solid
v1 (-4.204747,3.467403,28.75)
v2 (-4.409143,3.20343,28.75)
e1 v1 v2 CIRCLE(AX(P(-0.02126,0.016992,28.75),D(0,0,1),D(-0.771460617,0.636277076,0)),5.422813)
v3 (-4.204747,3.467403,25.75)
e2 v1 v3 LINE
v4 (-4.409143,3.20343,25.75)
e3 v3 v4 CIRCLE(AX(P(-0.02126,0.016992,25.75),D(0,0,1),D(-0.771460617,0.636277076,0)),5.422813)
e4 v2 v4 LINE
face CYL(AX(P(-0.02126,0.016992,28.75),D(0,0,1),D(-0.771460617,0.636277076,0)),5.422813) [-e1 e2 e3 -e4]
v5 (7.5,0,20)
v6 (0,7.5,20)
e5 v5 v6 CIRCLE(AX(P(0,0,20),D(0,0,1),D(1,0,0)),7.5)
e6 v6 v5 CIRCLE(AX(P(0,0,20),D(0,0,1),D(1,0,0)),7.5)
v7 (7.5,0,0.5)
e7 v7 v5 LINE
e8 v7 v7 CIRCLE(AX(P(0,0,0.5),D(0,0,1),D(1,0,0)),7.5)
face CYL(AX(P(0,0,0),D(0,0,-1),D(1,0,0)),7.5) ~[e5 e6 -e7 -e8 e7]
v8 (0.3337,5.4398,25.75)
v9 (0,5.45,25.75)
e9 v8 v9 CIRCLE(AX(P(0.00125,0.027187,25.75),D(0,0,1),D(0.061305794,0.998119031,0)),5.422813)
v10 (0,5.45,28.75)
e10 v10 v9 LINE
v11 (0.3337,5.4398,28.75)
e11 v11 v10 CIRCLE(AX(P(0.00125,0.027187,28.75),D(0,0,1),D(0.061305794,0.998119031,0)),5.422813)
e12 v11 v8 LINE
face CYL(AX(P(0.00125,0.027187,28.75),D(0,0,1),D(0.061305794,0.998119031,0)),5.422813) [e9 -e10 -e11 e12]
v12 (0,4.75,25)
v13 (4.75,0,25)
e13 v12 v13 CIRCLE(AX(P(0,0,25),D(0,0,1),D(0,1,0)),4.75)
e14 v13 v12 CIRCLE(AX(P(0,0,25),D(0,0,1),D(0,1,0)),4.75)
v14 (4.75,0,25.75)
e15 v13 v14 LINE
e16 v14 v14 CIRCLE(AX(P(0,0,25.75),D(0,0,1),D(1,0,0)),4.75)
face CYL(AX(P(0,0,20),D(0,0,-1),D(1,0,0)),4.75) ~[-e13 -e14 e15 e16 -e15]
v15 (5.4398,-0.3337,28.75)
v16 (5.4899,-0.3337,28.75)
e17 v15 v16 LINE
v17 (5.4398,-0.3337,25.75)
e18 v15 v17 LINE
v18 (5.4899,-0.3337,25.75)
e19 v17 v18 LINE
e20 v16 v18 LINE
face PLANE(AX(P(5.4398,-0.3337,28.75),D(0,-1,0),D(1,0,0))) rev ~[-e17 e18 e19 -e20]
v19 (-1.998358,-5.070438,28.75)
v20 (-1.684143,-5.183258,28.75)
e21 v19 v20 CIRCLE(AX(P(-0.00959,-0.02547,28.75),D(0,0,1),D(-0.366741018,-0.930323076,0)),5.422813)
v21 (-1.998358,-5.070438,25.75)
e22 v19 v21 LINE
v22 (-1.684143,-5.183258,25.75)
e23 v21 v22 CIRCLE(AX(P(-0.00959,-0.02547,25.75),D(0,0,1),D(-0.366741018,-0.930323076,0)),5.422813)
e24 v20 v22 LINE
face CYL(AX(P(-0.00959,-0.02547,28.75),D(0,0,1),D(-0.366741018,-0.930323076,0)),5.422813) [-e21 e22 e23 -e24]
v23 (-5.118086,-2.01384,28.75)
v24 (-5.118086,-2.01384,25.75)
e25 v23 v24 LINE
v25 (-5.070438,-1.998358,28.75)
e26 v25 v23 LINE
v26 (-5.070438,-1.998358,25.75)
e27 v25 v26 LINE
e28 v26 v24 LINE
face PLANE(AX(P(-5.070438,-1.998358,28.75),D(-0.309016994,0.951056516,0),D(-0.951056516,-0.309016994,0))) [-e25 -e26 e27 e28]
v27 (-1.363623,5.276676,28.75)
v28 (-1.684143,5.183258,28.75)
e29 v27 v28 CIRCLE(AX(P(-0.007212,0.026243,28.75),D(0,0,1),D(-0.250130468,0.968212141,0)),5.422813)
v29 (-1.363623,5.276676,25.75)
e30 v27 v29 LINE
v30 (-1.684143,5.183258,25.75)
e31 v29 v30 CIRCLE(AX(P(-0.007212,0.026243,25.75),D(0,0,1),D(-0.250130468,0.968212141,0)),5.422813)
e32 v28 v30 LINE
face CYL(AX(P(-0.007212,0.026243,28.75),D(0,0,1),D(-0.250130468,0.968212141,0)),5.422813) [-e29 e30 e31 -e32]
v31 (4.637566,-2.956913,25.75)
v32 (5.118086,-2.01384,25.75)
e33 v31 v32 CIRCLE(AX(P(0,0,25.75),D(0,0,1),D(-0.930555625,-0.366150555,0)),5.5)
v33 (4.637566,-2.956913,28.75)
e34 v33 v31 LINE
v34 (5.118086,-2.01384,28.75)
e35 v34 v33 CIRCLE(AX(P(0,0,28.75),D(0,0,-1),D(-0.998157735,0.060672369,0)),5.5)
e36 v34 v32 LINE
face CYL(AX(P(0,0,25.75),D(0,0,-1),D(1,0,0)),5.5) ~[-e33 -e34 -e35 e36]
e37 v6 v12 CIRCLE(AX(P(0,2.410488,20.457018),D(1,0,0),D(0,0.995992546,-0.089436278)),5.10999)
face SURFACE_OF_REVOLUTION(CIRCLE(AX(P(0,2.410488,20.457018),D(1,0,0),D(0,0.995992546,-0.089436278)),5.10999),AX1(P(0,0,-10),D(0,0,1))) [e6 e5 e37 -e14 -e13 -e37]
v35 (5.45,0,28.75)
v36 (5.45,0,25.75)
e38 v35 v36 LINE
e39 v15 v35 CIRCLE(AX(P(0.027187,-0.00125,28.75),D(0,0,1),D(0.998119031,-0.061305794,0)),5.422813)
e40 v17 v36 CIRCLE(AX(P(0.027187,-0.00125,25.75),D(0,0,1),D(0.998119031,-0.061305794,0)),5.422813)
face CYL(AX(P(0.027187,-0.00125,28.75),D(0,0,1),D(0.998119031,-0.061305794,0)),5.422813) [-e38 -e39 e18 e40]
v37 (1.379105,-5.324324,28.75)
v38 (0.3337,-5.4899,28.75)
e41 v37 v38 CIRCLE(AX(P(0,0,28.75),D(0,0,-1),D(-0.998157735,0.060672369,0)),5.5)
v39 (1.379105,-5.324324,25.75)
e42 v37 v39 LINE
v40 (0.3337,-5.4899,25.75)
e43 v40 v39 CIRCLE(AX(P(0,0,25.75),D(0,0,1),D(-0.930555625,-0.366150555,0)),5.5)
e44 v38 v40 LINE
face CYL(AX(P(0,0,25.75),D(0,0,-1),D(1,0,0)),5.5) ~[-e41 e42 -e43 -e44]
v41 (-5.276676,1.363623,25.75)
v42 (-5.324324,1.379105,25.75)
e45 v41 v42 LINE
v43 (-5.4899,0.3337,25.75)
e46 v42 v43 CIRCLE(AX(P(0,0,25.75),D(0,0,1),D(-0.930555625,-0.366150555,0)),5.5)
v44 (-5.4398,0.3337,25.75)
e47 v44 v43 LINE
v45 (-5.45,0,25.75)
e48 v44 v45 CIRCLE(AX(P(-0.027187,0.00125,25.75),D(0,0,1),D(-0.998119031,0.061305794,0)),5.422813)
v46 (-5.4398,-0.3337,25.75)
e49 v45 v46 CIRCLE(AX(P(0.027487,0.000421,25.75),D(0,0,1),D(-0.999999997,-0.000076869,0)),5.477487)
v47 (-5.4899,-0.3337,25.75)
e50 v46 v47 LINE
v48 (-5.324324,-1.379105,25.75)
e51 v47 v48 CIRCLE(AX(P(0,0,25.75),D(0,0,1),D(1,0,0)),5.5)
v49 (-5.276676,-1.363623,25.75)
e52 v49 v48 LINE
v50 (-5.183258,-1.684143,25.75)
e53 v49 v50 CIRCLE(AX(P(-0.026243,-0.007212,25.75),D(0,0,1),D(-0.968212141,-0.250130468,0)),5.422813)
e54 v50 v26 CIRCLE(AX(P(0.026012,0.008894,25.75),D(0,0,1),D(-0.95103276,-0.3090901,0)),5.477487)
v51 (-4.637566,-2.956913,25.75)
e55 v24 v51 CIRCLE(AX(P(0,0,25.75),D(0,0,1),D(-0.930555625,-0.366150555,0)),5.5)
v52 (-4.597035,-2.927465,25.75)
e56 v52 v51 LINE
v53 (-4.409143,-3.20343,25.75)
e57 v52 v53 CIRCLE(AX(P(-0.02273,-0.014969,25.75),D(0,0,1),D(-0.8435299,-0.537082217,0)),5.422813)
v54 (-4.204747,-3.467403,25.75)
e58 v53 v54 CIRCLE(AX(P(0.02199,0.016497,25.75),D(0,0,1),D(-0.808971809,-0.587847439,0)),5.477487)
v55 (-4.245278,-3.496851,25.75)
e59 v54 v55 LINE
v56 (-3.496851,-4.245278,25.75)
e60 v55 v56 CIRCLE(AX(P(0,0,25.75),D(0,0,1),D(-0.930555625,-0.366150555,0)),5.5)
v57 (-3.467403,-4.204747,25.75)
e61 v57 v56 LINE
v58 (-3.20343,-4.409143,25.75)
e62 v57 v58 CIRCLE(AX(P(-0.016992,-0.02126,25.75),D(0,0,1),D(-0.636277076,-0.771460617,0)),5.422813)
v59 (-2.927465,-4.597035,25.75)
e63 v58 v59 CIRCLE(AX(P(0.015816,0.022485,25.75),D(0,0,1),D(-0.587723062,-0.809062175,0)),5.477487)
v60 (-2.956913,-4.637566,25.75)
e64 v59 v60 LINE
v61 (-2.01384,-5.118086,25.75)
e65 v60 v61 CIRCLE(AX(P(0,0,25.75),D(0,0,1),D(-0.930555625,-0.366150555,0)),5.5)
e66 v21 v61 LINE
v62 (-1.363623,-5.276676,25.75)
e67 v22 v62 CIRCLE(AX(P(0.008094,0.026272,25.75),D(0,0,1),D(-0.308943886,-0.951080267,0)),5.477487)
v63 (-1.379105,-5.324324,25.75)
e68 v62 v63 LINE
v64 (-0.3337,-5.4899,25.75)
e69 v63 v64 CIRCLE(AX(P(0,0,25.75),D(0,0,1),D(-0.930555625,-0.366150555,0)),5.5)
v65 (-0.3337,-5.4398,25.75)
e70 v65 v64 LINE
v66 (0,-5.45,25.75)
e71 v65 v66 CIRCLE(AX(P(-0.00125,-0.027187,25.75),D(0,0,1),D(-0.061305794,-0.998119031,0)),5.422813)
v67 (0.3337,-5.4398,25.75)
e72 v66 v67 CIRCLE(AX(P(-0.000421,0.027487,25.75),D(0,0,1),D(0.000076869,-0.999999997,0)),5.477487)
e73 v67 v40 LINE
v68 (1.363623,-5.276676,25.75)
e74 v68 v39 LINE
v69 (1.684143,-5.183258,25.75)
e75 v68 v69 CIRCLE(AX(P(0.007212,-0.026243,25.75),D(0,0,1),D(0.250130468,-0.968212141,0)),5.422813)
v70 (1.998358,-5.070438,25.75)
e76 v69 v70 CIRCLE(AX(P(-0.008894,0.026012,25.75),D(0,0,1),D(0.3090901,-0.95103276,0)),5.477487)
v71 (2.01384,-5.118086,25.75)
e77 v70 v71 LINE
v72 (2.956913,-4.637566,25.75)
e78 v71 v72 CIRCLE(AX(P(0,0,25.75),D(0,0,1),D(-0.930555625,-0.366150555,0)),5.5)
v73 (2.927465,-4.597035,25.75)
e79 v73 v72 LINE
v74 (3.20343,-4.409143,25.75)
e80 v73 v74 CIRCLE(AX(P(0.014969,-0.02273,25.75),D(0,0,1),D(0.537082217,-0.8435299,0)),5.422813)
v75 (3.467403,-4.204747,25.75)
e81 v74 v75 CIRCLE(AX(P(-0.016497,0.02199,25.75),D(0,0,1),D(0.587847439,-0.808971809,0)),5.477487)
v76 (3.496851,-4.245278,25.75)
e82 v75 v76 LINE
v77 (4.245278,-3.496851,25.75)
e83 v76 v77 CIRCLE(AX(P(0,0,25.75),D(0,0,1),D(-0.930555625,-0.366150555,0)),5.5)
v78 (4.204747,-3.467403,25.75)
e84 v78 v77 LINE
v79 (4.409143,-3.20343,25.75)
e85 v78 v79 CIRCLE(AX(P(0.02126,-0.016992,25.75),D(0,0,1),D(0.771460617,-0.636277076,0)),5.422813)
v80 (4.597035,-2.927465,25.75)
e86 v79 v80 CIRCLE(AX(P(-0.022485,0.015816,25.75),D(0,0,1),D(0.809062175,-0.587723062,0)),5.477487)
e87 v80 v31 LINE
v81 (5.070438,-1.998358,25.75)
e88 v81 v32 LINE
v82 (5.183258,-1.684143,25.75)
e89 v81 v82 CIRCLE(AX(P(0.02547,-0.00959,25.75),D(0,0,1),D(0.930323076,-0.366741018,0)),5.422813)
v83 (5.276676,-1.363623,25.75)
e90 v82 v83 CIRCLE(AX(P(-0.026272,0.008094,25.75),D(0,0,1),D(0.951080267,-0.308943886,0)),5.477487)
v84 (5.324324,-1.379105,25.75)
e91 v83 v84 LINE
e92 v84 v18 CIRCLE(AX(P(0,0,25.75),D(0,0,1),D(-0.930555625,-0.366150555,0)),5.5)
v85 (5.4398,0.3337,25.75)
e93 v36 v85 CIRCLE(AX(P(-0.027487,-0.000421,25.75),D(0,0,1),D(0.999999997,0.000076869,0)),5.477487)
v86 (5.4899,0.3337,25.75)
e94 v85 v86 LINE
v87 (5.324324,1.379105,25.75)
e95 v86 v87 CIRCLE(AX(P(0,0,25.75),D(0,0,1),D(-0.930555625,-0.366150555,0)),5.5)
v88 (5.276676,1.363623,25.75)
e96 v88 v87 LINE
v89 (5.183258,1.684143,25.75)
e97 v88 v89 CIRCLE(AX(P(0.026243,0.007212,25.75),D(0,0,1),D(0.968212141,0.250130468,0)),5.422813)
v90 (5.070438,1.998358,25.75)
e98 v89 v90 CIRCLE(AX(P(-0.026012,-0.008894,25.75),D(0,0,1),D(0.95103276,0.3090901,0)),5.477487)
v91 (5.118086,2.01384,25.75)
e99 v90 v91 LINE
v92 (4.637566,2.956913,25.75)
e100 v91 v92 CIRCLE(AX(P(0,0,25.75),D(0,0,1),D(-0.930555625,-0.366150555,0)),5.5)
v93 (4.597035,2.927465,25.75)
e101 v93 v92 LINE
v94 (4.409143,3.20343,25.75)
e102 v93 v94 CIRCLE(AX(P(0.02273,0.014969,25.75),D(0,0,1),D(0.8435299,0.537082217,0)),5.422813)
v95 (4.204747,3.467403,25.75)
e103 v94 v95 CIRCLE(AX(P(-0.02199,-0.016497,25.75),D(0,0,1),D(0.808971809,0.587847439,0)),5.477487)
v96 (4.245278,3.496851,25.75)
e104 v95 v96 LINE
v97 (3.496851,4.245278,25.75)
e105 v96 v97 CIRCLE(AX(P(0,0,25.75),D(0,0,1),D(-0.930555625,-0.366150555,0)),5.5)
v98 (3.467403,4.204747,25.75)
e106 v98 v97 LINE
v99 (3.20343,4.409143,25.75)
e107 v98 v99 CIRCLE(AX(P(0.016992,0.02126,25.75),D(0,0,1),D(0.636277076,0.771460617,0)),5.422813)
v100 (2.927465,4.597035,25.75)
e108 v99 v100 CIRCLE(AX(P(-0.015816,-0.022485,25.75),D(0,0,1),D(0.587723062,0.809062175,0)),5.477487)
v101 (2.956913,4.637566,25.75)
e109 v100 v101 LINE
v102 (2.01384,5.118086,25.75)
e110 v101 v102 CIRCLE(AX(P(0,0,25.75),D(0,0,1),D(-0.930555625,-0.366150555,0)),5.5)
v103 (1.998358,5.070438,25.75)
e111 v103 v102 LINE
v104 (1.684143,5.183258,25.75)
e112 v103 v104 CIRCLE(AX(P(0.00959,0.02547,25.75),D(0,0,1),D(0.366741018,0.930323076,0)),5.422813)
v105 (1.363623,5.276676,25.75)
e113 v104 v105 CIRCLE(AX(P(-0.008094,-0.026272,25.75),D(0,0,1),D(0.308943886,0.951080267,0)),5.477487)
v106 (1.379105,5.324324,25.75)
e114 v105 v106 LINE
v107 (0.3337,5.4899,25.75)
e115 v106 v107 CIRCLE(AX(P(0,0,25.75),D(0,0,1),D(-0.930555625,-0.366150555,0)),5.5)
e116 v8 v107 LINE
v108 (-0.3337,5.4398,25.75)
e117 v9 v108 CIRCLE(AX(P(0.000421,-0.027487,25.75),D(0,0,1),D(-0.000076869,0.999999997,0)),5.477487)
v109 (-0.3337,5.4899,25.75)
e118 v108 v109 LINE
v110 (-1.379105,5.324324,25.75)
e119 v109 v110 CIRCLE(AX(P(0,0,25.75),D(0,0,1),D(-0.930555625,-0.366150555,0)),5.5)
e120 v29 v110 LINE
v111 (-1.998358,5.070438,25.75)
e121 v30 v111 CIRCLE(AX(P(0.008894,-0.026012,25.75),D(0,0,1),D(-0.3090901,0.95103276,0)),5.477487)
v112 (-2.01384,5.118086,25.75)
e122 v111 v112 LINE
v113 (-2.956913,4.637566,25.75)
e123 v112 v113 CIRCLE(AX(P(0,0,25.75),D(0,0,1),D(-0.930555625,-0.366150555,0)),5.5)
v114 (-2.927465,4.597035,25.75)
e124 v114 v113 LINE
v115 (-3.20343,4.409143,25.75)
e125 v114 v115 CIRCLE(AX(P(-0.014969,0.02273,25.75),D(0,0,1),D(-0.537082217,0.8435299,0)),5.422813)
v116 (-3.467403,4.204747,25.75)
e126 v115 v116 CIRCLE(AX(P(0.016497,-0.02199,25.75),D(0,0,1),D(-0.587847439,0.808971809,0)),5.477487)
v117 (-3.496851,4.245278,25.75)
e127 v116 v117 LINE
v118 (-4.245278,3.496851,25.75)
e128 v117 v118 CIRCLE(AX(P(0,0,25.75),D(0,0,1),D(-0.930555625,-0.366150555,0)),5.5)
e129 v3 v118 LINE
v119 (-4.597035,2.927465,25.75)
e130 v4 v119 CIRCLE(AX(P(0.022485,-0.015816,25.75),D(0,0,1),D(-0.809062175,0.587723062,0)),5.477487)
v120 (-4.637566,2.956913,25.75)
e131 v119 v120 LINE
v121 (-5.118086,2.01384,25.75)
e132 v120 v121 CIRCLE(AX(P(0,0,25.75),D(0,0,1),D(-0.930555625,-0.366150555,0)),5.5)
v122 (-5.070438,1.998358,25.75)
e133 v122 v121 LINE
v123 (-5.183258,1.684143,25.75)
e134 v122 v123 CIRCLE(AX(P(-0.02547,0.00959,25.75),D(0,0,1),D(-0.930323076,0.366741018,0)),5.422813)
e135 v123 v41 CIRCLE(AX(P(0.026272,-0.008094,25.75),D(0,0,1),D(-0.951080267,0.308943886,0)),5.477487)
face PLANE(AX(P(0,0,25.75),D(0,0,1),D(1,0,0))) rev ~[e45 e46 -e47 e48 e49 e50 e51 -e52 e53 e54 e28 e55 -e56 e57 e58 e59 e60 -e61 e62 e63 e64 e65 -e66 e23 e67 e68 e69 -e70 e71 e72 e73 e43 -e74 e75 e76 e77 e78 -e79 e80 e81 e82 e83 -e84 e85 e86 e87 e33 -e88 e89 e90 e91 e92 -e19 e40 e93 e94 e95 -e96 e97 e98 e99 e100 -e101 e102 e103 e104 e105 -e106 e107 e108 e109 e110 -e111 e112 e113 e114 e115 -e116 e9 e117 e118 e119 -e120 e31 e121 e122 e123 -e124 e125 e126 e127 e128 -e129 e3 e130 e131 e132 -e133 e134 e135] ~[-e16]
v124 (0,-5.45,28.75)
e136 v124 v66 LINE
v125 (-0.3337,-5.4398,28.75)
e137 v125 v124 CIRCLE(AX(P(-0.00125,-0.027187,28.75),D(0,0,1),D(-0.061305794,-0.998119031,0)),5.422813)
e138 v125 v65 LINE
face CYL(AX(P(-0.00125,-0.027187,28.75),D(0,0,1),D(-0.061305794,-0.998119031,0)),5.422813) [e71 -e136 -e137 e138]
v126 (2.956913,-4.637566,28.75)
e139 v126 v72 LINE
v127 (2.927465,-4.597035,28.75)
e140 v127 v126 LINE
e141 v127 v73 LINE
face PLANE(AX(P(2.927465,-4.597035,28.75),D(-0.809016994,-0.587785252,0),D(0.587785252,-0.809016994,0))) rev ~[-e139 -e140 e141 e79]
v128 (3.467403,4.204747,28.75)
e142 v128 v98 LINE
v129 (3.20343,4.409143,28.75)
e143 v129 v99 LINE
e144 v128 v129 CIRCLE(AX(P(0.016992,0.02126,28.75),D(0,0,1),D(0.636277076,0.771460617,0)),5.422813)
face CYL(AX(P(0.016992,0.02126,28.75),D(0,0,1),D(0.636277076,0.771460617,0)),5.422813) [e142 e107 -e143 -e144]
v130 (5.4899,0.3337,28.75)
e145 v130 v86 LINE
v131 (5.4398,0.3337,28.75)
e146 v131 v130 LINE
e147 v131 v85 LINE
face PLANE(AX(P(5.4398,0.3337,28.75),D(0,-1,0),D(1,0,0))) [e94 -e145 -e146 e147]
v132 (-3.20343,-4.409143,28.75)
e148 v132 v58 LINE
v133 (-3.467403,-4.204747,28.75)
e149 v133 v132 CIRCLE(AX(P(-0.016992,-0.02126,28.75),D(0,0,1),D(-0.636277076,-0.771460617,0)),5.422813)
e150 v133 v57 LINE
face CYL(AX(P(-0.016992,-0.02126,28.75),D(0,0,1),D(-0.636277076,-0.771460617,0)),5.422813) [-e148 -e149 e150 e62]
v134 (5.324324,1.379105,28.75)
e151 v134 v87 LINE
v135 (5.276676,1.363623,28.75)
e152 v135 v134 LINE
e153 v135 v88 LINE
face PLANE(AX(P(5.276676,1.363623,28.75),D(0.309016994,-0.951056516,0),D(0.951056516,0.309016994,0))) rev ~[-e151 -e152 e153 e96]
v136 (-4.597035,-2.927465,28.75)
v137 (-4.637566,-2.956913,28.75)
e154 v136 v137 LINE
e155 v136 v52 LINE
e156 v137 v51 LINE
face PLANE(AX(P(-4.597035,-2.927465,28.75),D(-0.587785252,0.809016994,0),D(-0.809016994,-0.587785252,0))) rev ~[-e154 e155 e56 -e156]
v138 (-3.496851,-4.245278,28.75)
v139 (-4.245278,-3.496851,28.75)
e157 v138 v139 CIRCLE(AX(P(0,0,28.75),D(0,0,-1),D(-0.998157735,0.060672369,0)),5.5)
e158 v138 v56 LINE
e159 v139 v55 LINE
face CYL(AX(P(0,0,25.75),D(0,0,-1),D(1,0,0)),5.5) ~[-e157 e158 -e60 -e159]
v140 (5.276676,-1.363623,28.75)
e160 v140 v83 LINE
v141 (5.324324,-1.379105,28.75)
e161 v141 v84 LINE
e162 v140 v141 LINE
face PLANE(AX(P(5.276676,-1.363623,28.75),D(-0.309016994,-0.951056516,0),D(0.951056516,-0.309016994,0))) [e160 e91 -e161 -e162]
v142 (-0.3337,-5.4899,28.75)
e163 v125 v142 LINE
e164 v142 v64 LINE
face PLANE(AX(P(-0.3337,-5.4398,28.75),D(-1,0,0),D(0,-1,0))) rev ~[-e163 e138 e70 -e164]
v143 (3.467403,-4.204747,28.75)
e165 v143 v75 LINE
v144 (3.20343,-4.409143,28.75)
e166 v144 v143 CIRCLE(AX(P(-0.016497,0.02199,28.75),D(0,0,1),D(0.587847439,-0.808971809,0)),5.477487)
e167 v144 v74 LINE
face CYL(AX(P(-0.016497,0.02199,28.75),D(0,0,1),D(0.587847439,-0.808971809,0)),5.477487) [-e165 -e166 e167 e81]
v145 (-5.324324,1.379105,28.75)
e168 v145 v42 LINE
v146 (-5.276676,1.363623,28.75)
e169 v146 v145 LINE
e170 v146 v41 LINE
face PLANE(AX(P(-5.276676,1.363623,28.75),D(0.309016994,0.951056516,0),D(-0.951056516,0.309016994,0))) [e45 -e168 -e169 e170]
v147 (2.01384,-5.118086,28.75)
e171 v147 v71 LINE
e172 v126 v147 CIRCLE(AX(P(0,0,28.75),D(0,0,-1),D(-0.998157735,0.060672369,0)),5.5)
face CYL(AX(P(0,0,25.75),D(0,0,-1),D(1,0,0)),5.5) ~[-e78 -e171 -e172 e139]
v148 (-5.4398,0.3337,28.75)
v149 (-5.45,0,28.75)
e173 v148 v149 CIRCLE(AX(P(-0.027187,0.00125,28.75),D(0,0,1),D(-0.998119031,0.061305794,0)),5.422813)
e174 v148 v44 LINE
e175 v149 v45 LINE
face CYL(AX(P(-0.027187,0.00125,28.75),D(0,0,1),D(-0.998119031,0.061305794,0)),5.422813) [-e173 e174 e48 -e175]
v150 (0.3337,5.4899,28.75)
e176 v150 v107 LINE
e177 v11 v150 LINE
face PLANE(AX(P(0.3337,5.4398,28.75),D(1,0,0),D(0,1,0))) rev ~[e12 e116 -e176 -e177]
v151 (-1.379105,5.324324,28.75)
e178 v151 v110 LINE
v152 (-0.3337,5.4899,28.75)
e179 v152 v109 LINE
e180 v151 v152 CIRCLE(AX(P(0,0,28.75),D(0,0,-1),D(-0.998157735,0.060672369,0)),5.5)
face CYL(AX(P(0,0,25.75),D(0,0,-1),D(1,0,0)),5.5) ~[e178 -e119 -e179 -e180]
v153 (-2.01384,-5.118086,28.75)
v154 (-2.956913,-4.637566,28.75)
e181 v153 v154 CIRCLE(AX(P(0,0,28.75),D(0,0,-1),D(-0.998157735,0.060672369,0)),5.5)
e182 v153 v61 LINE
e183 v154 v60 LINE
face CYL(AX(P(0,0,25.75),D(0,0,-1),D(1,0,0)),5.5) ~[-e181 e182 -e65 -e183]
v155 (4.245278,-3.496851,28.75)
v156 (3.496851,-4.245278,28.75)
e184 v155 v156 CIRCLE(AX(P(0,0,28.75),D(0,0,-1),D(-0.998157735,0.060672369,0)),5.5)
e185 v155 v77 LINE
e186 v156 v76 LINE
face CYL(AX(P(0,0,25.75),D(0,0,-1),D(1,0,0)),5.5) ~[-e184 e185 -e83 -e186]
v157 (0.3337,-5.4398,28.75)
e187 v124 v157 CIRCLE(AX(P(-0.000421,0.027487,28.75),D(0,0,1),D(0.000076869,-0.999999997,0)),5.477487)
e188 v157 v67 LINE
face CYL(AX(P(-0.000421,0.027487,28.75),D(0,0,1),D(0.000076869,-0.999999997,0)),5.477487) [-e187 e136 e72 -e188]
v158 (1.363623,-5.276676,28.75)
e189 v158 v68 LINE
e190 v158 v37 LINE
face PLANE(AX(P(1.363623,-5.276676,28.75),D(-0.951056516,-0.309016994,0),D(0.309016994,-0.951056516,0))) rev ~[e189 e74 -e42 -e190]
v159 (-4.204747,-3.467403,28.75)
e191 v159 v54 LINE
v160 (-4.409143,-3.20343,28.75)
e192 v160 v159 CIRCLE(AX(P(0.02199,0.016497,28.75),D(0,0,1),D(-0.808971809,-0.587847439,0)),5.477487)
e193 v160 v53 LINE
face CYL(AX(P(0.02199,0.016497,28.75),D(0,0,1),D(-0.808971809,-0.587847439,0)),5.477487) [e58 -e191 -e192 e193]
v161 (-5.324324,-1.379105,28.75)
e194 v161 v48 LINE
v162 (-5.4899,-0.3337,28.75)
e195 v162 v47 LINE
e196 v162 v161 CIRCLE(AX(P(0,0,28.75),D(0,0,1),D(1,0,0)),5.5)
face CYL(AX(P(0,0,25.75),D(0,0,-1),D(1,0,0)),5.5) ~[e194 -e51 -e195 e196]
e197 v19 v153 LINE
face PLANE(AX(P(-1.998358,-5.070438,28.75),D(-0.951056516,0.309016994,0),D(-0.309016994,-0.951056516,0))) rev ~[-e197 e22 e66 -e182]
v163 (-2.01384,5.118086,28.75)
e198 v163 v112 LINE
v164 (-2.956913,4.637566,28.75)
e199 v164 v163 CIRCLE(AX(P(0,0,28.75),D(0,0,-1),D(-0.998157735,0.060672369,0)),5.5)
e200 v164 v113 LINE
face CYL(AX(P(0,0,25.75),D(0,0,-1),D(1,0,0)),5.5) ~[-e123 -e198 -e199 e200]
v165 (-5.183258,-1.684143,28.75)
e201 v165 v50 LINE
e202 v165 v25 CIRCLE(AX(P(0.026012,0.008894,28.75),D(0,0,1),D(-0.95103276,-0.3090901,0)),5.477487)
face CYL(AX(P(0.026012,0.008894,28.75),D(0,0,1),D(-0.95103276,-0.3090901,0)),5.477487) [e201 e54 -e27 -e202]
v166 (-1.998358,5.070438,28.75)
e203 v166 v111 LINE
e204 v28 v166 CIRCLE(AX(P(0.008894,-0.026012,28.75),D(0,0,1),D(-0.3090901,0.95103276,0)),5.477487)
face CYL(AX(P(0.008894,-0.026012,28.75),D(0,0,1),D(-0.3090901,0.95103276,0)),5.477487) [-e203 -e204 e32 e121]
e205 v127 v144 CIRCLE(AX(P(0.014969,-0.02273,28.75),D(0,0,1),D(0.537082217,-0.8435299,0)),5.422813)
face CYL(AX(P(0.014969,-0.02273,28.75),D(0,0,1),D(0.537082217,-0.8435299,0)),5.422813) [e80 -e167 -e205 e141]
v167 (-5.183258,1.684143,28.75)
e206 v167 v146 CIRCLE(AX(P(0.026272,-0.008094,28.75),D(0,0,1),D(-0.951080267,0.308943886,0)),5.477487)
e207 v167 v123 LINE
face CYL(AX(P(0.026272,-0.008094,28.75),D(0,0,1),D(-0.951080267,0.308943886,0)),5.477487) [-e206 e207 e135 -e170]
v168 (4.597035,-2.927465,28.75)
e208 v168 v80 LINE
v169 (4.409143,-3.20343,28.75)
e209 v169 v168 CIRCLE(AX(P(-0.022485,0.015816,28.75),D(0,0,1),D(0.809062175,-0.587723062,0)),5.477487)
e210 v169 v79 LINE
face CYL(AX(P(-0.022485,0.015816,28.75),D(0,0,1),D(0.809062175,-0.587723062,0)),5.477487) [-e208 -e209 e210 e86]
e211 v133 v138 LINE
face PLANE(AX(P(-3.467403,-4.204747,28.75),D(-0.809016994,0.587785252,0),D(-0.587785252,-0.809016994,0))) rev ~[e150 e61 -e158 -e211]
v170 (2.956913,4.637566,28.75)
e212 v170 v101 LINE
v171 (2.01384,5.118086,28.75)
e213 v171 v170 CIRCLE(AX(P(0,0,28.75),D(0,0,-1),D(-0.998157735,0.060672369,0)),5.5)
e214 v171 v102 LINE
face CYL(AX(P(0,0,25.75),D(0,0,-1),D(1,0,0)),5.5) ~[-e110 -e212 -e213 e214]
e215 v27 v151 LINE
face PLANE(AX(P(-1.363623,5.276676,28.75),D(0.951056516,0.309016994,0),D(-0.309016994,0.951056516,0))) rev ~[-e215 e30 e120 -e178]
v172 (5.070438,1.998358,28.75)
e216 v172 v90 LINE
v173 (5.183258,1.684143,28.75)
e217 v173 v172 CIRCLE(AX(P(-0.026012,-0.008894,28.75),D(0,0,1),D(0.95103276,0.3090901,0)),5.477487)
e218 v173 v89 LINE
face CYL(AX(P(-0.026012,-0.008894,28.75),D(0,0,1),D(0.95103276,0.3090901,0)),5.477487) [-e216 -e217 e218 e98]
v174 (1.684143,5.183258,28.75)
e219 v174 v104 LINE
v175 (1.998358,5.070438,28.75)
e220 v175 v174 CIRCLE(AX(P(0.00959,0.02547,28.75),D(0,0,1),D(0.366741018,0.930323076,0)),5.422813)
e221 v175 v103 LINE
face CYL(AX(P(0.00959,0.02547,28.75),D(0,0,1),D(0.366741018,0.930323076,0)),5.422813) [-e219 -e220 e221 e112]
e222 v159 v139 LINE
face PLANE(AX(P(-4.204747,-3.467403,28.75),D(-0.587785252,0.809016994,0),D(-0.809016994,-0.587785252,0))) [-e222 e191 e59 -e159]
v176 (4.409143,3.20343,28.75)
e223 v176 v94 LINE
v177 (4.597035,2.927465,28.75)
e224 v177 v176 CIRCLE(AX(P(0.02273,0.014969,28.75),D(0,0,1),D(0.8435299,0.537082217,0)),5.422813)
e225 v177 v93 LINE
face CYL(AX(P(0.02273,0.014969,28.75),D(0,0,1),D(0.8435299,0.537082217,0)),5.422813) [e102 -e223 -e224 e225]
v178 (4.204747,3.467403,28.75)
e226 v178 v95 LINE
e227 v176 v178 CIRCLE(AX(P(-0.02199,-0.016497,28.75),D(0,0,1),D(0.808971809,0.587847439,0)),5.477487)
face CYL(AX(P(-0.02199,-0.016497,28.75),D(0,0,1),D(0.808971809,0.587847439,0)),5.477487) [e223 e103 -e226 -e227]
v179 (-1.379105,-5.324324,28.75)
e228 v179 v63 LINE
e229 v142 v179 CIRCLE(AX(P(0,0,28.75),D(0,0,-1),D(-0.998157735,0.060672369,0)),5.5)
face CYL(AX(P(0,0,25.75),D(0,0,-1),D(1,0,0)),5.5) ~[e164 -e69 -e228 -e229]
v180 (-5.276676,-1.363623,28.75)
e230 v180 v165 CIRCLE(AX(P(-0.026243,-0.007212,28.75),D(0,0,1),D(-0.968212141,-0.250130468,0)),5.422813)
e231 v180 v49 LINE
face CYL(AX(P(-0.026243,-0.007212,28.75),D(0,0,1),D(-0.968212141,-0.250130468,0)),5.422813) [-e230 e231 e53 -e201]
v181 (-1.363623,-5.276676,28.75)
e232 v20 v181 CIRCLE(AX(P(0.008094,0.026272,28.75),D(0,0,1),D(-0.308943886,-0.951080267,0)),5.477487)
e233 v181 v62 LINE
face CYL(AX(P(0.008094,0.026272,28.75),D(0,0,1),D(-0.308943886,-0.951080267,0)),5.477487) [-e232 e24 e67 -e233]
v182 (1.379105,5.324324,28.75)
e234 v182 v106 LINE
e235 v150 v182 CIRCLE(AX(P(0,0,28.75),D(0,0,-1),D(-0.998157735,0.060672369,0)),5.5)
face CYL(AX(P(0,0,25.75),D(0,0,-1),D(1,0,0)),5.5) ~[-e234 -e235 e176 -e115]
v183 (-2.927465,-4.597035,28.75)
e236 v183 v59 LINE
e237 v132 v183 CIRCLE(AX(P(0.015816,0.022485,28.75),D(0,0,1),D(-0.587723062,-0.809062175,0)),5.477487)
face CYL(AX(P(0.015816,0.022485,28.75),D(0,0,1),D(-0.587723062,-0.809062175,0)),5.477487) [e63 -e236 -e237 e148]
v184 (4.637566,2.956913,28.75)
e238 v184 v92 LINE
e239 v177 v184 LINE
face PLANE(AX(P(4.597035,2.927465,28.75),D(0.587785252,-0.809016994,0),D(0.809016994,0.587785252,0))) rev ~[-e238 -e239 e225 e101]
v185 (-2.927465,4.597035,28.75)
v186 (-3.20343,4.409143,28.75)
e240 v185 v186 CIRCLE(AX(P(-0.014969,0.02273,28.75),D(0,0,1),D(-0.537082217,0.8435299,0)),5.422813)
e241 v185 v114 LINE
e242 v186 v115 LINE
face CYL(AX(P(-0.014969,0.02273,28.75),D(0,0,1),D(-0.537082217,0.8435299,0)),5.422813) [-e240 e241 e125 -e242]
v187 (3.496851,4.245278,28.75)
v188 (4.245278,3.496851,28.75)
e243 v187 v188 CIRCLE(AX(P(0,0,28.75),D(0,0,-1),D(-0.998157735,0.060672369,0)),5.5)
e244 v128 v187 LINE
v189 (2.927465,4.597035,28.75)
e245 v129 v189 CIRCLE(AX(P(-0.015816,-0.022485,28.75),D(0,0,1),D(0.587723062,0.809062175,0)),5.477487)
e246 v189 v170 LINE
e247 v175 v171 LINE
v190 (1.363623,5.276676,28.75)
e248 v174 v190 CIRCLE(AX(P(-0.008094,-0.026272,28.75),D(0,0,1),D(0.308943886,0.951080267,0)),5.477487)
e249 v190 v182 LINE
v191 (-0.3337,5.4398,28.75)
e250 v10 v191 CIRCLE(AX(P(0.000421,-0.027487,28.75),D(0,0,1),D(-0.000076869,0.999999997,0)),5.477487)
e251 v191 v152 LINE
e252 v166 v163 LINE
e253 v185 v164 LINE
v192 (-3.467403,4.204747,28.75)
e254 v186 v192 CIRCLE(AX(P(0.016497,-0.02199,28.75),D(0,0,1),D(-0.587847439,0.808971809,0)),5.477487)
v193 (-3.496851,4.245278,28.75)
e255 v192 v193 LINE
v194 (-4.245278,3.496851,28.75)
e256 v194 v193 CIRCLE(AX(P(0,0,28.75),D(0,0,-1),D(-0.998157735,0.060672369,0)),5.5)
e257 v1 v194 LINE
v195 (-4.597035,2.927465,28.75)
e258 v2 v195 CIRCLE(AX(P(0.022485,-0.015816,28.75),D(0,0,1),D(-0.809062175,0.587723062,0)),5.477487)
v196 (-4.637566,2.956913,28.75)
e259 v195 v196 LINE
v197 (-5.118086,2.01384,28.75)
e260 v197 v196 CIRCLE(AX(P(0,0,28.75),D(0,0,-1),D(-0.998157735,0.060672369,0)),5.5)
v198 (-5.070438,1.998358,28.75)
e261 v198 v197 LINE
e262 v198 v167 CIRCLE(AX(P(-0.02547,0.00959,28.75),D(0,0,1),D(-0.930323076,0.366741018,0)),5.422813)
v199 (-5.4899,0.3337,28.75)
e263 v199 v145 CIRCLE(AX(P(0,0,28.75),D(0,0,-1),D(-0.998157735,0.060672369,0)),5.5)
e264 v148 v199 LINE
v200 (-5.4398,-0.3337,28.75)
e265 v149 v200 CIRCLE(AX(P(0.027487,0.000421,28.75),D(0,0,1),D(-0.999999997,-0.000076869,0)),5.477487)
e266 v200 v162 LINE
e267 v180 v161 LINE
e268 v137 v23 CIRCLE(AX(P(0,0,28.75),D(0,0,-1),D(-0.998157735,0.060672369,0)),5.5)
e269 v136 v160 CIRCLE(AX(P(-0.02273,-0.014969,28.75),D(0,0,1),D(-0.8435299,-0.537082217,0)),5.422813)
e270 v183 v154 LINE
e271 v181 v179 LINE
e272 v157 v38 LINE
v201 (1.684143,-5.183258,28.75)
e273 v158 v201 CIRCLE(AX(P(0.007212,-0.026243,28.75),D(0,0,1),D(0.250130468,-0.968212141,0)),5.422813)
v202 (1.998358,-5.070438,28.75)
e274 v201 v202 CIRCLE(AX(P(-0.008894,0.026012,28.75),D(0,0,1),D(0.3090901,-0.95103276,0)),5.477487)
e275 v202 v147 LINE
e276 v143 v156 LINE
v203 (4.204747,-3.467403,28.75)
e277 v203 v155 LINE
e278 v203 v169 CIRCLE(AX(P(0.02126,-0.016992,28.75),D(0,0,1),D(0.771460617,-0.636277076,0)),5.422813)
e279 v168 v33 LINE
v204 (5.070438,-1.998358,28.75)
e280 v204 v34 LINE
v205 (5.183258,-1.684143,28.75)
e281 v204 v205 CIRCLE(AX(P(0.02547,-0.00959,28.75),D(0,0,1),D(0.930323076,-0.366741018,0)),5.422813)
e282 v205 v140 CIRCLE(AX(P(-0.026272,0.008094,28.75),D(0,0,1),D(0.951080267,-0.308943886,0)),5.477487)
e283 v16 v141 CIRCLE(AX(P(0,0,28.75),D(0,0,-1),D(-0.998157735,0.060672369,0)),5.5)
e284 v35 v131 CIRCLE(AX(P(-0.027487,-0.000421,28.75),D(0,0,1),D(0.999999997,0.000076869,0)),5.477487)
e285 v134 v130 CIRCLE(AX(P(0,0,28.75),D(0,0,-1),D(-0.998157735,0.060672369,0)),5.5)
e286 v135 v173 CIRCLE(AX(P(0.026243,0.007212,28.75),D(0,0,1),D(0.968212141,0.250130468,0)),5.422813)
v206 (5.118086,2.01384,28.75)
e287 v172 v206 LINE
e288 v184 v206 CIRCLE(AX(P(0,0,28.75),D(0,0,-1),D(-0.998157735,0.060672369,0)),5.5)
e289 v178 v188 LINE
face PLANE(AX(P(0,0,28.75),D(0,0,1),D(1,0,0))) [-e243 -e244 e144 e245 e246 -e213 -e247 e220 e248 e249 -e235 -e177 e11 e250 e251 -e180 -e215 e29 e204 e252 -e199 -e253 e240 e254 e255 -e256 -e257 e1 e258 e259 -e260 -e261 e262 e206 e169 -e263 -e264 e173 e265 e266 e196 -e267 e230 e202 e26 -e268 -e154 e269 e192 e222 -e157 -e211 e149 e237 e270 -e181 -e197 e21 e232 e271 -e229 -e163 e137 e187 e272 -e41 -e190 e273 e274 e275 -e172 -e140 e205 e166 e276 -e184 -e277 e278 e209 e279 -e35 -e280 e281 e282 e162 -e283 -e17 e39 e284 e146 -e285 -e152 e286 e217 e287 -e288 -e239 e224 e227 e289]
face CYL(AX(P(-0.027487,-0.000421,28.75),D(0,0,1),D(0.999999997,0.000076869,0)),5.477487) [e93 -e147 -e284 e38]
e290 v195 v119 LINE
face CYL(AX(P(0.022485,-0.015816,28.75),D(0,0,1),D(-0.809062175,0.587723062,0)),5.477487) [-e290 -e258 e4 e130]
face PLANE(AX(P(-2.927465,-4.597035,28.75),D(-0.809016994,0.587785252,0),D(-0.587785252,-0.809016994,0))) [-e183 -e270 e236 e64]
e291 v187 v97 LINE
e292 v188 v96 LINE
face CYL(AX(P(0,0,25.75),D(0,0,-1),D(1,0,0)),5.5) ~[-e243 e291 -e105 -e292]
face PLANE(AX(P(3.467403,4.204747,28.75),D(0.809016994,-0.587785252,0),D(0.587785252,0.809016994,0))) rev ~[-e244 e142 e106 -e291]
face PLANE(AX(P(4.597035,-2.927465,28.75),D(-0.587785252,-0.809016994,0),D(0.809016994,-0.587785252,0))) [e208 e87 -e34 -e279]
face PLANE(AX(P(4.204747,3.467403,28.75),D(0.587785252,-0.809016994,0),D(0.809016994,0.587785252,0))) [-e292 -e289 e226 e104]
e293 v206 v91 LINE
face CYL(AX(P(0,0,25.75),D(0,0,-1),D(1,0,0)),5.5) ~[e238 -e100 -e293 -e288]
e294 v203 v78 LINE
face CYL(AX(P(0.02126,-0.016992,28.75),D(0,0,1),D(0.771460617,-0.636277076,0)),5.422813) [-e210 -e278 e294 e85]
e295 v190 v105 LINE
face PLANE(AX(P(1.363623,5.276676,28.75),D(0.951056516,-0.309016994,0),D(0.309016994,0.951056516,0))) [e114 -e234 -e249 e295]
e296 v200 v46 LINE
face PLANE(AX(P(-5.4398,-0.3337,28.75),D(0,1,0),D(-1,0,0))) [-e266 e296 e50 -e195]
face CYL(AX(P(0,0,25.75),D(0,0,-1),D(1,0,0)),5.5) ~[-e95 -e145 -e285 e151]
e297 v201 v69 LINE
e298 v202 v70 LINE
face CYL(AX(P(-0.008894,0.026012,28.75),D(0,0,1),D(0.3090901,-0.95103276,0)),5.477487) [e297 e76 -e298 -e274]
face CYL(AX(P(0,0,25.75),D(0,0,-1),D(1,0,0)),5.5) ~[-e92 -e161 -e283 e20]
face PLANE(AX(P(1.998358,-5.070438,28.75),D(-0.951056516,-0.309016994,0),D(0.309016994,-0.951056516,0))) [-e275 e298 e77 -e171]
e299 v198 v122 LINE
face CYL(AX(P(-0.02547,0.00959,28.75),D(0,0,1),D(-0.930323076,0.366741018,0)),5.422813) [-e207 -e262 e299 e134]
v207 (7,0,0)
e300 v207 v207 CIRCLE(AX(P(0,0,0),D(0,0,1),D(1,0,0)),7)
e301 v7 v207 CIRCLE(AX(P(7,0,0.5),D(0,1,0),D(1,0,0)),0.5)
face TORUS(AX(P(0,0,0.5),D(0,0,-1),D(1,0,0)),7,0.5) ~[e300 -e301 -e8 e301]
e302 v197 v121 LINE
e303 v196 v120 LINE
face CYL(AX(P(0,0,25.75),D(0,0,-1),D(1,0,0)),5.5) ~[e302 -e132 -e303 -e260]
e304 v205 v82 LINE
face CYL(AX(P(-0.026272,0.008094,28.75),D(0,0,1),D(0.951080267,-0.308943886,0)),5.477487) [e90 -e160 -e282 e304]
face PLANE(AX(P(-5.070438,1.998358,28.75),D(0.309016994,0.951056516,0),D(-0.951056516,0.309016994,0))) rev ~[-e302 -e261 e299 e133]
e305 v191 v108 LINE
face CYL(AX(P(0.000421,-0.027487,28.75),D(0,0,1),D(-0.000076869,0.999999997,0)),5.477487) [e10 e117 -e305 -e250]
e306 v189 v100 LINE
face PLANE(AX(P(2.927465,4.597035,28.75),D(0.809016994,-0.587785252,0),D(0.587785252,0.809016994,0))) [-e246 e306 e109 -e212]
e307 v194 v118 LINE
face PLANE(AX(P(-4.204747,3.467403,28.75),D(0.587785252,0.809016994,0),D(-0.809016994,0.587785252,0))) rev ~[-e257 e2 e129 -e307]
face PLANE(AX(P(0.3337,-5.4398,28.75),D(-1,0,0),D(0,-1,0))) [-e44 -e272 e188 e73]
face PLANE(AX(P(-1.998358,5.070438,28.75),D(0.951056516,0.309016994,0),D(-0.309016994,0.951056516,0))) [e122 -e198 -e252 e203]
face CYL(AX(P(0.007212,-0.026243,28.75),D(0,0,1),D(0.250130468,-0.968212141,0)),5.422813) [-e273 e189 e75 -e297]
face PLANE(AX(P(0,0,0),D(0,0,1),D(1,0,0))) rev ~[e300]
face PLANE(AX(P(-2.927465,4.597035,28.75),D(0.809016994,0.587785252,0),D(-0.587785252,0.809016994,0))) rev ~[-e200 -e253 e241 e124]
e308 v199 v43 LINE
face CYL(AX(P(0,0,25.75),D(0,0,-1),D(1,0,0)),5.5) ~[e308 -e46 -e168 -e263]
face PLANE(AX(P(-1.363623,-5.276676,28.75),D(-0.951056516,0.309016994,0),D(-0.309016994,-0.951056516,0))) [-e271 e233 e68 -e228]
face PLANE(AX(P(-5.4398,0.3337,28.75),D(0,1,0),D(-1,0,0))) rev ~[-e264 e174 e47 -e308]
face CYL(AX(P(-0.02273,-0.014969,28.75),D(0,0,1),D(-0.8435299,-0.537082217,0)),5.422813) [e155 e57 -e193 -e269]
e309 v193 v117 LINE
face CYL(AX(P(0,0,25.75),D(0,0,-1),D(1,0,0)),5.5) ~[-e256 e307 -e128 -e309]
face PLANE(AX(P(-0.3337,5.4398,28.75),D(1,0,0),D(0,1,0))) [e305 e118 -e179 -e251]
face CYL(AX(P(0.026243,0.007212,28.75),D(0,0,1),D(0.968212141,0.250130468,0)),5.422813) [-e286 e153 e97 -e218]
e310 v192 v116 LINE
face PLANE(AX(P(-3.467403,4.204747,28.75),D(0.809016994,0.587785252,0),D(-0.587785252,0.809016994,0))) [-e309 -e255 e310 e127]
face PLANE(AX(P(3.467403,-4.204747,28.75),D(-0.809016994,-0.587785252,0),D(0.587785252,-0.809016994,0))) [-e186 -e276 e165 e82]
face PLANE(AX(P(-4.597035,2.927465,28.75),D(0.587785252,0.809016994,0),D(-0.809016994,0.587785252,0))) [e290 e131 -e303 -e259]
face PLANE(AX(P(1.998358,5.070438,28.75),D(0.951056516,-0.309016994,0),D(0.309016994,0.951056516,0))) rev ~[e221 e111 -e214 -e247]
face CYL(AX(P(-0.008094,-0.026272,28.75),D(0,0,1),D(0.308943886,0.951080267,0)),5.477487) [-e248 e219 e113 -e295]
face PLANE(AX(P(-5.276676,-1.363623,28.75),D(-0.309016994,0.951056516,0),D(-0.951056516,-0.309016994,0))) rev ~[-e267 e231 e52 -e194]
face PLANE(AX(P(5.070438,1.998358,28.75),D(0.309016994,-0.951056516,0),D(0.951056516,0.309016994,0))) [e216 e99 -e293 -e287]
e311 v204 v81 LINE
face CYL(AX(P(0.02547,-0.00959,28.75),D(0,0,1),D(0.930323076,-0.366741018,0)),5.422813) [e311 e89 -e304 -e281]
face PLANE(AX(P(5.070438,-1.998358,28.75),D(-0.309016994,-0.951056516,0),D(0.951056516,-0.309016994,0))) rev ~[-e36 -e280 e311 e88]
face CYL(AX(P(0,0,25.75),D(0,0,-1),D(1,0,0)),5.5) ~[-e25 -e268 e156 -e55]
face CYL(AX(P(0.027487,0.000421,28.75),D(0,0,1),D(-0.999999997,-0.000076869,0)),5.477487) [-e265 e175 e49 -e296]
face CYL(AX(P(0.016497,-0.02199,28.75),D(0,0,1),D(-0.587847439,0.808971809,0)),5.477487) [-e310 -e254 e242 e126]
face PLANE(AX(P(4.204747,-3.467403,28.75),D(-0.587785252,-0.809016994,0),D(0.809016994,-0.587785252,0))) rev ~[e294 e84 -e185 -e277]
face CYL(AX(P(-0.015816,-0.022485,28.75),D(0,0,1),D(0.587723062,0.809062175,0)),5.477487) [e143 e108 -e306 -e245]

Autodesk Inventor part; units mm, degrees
ref_plane "YZ Plane" through (0, 0, 0) normal (1, 0, 0) x (0, 1, 0)
ref_plane "XZ Plane" through (0, 0, 0) normal (0, 1, 0) x (-1, 0, 0)
ref_plane "XY Plane" through (0, 0, 0) normal (0, 0, 1) x (1, 0, 0)
sketch "Sketch1" plane through (0, 0, 0) normal (0, 0, 1) x (1, 0, 0)
  circle A0 centre (0, 0) radius 7.5
  dimension "d0" = 15
extrude "Extrusion1" add sketch "Sketch1" along normal blind 20
sketch "Sketch3" plane through (0, 0, 0) normal (1, 0, 0) x (0, 1, 0)
  line L0 (7.5, 20) -> (-7.5, 20) projected
  arc A0 (7.5, 20) -> (4.75, 25) centre (2.4104, 20.457) ccw
  line L1 (4.75, 25) -> (4.75, 20)
  line L2 (7.5, 20) -> (4.75, 20)
  line L3 (0, -5.128) -> (0, 30.7682) projected
  point P0 (0, 0)
  dimension "d3" = 5
  dimension "d4" = 2.75
revolve "Revolution1" add sketch "Sketch3" angle 360 about axis through (0, 0, -10) along (0, 0, 1)
sketch "Sketch4" plane through (0, 0, 20) normal (0, 0, 1) x (1, 0, 0)
  circle A0 centre (0, 0) radius 4.75
extrude "Extrusion2" add sketch "Sketch4" along normal blind 5.75
sketch "Sketch5" plane through (0, 0, 25.75) normal (0, 0, 1) x (1, 0, 0)
  circle A0 centre (0, 0) radius 5.5
  dimension "d8" = 11
extrude "Extrusion3" add sketch "Sketch5" along normal blind 3
sketch "Sketch6" plane through (0, 0, 28.75) normal (0, 0, 1) x (1, 0, 0)
  arc A0 (-5.4899, 0.3337) -> (-5.5, 0) centre (0, 0) ccw
  circle A1 centre (0, 0) radius 5.5 projected
  arc A2 (-5.4398, 0.3337) -> (-5.45, 0) centre (0, 0) ccw
  line L0 (-5.4398, 0.3337) -> (-5.4899, 0.3337)
  line L1 (-5.45, 0) -> (-5.5, 0)
  line L2 (-5.6591, 0) -> (-5.2331, 0)
  arc A3 (-5.5, 0) -> (-5.4899, -0.3337) centre (0, 0) ccw
  arc A4 (-5.45, 0) -> (-5.4398, -0.3337) centre (0, 0) ccw
  line L3 (-5.4398, -0.3337) -> (-5.4899, -0.3337)
  point P0 (-5.4899, -0.3337)
  dimension "d14" = 0.05
extrude "Extrusion4" cut sketch "Sketch6" against normal blind 3 contours L0 A2 L1 A0 | L1 A4 L3 A1
pattern_circular "Circular Pattern1" count 20 over 360 about axis through (0, 0, 25.75) along (0, 0, 1) of "Extrusion4"
fillet "Fillet1" radius 0.5 1 edges at (-7.5, 0, 0)
properties part number "Healing-Iteam-Pills"
